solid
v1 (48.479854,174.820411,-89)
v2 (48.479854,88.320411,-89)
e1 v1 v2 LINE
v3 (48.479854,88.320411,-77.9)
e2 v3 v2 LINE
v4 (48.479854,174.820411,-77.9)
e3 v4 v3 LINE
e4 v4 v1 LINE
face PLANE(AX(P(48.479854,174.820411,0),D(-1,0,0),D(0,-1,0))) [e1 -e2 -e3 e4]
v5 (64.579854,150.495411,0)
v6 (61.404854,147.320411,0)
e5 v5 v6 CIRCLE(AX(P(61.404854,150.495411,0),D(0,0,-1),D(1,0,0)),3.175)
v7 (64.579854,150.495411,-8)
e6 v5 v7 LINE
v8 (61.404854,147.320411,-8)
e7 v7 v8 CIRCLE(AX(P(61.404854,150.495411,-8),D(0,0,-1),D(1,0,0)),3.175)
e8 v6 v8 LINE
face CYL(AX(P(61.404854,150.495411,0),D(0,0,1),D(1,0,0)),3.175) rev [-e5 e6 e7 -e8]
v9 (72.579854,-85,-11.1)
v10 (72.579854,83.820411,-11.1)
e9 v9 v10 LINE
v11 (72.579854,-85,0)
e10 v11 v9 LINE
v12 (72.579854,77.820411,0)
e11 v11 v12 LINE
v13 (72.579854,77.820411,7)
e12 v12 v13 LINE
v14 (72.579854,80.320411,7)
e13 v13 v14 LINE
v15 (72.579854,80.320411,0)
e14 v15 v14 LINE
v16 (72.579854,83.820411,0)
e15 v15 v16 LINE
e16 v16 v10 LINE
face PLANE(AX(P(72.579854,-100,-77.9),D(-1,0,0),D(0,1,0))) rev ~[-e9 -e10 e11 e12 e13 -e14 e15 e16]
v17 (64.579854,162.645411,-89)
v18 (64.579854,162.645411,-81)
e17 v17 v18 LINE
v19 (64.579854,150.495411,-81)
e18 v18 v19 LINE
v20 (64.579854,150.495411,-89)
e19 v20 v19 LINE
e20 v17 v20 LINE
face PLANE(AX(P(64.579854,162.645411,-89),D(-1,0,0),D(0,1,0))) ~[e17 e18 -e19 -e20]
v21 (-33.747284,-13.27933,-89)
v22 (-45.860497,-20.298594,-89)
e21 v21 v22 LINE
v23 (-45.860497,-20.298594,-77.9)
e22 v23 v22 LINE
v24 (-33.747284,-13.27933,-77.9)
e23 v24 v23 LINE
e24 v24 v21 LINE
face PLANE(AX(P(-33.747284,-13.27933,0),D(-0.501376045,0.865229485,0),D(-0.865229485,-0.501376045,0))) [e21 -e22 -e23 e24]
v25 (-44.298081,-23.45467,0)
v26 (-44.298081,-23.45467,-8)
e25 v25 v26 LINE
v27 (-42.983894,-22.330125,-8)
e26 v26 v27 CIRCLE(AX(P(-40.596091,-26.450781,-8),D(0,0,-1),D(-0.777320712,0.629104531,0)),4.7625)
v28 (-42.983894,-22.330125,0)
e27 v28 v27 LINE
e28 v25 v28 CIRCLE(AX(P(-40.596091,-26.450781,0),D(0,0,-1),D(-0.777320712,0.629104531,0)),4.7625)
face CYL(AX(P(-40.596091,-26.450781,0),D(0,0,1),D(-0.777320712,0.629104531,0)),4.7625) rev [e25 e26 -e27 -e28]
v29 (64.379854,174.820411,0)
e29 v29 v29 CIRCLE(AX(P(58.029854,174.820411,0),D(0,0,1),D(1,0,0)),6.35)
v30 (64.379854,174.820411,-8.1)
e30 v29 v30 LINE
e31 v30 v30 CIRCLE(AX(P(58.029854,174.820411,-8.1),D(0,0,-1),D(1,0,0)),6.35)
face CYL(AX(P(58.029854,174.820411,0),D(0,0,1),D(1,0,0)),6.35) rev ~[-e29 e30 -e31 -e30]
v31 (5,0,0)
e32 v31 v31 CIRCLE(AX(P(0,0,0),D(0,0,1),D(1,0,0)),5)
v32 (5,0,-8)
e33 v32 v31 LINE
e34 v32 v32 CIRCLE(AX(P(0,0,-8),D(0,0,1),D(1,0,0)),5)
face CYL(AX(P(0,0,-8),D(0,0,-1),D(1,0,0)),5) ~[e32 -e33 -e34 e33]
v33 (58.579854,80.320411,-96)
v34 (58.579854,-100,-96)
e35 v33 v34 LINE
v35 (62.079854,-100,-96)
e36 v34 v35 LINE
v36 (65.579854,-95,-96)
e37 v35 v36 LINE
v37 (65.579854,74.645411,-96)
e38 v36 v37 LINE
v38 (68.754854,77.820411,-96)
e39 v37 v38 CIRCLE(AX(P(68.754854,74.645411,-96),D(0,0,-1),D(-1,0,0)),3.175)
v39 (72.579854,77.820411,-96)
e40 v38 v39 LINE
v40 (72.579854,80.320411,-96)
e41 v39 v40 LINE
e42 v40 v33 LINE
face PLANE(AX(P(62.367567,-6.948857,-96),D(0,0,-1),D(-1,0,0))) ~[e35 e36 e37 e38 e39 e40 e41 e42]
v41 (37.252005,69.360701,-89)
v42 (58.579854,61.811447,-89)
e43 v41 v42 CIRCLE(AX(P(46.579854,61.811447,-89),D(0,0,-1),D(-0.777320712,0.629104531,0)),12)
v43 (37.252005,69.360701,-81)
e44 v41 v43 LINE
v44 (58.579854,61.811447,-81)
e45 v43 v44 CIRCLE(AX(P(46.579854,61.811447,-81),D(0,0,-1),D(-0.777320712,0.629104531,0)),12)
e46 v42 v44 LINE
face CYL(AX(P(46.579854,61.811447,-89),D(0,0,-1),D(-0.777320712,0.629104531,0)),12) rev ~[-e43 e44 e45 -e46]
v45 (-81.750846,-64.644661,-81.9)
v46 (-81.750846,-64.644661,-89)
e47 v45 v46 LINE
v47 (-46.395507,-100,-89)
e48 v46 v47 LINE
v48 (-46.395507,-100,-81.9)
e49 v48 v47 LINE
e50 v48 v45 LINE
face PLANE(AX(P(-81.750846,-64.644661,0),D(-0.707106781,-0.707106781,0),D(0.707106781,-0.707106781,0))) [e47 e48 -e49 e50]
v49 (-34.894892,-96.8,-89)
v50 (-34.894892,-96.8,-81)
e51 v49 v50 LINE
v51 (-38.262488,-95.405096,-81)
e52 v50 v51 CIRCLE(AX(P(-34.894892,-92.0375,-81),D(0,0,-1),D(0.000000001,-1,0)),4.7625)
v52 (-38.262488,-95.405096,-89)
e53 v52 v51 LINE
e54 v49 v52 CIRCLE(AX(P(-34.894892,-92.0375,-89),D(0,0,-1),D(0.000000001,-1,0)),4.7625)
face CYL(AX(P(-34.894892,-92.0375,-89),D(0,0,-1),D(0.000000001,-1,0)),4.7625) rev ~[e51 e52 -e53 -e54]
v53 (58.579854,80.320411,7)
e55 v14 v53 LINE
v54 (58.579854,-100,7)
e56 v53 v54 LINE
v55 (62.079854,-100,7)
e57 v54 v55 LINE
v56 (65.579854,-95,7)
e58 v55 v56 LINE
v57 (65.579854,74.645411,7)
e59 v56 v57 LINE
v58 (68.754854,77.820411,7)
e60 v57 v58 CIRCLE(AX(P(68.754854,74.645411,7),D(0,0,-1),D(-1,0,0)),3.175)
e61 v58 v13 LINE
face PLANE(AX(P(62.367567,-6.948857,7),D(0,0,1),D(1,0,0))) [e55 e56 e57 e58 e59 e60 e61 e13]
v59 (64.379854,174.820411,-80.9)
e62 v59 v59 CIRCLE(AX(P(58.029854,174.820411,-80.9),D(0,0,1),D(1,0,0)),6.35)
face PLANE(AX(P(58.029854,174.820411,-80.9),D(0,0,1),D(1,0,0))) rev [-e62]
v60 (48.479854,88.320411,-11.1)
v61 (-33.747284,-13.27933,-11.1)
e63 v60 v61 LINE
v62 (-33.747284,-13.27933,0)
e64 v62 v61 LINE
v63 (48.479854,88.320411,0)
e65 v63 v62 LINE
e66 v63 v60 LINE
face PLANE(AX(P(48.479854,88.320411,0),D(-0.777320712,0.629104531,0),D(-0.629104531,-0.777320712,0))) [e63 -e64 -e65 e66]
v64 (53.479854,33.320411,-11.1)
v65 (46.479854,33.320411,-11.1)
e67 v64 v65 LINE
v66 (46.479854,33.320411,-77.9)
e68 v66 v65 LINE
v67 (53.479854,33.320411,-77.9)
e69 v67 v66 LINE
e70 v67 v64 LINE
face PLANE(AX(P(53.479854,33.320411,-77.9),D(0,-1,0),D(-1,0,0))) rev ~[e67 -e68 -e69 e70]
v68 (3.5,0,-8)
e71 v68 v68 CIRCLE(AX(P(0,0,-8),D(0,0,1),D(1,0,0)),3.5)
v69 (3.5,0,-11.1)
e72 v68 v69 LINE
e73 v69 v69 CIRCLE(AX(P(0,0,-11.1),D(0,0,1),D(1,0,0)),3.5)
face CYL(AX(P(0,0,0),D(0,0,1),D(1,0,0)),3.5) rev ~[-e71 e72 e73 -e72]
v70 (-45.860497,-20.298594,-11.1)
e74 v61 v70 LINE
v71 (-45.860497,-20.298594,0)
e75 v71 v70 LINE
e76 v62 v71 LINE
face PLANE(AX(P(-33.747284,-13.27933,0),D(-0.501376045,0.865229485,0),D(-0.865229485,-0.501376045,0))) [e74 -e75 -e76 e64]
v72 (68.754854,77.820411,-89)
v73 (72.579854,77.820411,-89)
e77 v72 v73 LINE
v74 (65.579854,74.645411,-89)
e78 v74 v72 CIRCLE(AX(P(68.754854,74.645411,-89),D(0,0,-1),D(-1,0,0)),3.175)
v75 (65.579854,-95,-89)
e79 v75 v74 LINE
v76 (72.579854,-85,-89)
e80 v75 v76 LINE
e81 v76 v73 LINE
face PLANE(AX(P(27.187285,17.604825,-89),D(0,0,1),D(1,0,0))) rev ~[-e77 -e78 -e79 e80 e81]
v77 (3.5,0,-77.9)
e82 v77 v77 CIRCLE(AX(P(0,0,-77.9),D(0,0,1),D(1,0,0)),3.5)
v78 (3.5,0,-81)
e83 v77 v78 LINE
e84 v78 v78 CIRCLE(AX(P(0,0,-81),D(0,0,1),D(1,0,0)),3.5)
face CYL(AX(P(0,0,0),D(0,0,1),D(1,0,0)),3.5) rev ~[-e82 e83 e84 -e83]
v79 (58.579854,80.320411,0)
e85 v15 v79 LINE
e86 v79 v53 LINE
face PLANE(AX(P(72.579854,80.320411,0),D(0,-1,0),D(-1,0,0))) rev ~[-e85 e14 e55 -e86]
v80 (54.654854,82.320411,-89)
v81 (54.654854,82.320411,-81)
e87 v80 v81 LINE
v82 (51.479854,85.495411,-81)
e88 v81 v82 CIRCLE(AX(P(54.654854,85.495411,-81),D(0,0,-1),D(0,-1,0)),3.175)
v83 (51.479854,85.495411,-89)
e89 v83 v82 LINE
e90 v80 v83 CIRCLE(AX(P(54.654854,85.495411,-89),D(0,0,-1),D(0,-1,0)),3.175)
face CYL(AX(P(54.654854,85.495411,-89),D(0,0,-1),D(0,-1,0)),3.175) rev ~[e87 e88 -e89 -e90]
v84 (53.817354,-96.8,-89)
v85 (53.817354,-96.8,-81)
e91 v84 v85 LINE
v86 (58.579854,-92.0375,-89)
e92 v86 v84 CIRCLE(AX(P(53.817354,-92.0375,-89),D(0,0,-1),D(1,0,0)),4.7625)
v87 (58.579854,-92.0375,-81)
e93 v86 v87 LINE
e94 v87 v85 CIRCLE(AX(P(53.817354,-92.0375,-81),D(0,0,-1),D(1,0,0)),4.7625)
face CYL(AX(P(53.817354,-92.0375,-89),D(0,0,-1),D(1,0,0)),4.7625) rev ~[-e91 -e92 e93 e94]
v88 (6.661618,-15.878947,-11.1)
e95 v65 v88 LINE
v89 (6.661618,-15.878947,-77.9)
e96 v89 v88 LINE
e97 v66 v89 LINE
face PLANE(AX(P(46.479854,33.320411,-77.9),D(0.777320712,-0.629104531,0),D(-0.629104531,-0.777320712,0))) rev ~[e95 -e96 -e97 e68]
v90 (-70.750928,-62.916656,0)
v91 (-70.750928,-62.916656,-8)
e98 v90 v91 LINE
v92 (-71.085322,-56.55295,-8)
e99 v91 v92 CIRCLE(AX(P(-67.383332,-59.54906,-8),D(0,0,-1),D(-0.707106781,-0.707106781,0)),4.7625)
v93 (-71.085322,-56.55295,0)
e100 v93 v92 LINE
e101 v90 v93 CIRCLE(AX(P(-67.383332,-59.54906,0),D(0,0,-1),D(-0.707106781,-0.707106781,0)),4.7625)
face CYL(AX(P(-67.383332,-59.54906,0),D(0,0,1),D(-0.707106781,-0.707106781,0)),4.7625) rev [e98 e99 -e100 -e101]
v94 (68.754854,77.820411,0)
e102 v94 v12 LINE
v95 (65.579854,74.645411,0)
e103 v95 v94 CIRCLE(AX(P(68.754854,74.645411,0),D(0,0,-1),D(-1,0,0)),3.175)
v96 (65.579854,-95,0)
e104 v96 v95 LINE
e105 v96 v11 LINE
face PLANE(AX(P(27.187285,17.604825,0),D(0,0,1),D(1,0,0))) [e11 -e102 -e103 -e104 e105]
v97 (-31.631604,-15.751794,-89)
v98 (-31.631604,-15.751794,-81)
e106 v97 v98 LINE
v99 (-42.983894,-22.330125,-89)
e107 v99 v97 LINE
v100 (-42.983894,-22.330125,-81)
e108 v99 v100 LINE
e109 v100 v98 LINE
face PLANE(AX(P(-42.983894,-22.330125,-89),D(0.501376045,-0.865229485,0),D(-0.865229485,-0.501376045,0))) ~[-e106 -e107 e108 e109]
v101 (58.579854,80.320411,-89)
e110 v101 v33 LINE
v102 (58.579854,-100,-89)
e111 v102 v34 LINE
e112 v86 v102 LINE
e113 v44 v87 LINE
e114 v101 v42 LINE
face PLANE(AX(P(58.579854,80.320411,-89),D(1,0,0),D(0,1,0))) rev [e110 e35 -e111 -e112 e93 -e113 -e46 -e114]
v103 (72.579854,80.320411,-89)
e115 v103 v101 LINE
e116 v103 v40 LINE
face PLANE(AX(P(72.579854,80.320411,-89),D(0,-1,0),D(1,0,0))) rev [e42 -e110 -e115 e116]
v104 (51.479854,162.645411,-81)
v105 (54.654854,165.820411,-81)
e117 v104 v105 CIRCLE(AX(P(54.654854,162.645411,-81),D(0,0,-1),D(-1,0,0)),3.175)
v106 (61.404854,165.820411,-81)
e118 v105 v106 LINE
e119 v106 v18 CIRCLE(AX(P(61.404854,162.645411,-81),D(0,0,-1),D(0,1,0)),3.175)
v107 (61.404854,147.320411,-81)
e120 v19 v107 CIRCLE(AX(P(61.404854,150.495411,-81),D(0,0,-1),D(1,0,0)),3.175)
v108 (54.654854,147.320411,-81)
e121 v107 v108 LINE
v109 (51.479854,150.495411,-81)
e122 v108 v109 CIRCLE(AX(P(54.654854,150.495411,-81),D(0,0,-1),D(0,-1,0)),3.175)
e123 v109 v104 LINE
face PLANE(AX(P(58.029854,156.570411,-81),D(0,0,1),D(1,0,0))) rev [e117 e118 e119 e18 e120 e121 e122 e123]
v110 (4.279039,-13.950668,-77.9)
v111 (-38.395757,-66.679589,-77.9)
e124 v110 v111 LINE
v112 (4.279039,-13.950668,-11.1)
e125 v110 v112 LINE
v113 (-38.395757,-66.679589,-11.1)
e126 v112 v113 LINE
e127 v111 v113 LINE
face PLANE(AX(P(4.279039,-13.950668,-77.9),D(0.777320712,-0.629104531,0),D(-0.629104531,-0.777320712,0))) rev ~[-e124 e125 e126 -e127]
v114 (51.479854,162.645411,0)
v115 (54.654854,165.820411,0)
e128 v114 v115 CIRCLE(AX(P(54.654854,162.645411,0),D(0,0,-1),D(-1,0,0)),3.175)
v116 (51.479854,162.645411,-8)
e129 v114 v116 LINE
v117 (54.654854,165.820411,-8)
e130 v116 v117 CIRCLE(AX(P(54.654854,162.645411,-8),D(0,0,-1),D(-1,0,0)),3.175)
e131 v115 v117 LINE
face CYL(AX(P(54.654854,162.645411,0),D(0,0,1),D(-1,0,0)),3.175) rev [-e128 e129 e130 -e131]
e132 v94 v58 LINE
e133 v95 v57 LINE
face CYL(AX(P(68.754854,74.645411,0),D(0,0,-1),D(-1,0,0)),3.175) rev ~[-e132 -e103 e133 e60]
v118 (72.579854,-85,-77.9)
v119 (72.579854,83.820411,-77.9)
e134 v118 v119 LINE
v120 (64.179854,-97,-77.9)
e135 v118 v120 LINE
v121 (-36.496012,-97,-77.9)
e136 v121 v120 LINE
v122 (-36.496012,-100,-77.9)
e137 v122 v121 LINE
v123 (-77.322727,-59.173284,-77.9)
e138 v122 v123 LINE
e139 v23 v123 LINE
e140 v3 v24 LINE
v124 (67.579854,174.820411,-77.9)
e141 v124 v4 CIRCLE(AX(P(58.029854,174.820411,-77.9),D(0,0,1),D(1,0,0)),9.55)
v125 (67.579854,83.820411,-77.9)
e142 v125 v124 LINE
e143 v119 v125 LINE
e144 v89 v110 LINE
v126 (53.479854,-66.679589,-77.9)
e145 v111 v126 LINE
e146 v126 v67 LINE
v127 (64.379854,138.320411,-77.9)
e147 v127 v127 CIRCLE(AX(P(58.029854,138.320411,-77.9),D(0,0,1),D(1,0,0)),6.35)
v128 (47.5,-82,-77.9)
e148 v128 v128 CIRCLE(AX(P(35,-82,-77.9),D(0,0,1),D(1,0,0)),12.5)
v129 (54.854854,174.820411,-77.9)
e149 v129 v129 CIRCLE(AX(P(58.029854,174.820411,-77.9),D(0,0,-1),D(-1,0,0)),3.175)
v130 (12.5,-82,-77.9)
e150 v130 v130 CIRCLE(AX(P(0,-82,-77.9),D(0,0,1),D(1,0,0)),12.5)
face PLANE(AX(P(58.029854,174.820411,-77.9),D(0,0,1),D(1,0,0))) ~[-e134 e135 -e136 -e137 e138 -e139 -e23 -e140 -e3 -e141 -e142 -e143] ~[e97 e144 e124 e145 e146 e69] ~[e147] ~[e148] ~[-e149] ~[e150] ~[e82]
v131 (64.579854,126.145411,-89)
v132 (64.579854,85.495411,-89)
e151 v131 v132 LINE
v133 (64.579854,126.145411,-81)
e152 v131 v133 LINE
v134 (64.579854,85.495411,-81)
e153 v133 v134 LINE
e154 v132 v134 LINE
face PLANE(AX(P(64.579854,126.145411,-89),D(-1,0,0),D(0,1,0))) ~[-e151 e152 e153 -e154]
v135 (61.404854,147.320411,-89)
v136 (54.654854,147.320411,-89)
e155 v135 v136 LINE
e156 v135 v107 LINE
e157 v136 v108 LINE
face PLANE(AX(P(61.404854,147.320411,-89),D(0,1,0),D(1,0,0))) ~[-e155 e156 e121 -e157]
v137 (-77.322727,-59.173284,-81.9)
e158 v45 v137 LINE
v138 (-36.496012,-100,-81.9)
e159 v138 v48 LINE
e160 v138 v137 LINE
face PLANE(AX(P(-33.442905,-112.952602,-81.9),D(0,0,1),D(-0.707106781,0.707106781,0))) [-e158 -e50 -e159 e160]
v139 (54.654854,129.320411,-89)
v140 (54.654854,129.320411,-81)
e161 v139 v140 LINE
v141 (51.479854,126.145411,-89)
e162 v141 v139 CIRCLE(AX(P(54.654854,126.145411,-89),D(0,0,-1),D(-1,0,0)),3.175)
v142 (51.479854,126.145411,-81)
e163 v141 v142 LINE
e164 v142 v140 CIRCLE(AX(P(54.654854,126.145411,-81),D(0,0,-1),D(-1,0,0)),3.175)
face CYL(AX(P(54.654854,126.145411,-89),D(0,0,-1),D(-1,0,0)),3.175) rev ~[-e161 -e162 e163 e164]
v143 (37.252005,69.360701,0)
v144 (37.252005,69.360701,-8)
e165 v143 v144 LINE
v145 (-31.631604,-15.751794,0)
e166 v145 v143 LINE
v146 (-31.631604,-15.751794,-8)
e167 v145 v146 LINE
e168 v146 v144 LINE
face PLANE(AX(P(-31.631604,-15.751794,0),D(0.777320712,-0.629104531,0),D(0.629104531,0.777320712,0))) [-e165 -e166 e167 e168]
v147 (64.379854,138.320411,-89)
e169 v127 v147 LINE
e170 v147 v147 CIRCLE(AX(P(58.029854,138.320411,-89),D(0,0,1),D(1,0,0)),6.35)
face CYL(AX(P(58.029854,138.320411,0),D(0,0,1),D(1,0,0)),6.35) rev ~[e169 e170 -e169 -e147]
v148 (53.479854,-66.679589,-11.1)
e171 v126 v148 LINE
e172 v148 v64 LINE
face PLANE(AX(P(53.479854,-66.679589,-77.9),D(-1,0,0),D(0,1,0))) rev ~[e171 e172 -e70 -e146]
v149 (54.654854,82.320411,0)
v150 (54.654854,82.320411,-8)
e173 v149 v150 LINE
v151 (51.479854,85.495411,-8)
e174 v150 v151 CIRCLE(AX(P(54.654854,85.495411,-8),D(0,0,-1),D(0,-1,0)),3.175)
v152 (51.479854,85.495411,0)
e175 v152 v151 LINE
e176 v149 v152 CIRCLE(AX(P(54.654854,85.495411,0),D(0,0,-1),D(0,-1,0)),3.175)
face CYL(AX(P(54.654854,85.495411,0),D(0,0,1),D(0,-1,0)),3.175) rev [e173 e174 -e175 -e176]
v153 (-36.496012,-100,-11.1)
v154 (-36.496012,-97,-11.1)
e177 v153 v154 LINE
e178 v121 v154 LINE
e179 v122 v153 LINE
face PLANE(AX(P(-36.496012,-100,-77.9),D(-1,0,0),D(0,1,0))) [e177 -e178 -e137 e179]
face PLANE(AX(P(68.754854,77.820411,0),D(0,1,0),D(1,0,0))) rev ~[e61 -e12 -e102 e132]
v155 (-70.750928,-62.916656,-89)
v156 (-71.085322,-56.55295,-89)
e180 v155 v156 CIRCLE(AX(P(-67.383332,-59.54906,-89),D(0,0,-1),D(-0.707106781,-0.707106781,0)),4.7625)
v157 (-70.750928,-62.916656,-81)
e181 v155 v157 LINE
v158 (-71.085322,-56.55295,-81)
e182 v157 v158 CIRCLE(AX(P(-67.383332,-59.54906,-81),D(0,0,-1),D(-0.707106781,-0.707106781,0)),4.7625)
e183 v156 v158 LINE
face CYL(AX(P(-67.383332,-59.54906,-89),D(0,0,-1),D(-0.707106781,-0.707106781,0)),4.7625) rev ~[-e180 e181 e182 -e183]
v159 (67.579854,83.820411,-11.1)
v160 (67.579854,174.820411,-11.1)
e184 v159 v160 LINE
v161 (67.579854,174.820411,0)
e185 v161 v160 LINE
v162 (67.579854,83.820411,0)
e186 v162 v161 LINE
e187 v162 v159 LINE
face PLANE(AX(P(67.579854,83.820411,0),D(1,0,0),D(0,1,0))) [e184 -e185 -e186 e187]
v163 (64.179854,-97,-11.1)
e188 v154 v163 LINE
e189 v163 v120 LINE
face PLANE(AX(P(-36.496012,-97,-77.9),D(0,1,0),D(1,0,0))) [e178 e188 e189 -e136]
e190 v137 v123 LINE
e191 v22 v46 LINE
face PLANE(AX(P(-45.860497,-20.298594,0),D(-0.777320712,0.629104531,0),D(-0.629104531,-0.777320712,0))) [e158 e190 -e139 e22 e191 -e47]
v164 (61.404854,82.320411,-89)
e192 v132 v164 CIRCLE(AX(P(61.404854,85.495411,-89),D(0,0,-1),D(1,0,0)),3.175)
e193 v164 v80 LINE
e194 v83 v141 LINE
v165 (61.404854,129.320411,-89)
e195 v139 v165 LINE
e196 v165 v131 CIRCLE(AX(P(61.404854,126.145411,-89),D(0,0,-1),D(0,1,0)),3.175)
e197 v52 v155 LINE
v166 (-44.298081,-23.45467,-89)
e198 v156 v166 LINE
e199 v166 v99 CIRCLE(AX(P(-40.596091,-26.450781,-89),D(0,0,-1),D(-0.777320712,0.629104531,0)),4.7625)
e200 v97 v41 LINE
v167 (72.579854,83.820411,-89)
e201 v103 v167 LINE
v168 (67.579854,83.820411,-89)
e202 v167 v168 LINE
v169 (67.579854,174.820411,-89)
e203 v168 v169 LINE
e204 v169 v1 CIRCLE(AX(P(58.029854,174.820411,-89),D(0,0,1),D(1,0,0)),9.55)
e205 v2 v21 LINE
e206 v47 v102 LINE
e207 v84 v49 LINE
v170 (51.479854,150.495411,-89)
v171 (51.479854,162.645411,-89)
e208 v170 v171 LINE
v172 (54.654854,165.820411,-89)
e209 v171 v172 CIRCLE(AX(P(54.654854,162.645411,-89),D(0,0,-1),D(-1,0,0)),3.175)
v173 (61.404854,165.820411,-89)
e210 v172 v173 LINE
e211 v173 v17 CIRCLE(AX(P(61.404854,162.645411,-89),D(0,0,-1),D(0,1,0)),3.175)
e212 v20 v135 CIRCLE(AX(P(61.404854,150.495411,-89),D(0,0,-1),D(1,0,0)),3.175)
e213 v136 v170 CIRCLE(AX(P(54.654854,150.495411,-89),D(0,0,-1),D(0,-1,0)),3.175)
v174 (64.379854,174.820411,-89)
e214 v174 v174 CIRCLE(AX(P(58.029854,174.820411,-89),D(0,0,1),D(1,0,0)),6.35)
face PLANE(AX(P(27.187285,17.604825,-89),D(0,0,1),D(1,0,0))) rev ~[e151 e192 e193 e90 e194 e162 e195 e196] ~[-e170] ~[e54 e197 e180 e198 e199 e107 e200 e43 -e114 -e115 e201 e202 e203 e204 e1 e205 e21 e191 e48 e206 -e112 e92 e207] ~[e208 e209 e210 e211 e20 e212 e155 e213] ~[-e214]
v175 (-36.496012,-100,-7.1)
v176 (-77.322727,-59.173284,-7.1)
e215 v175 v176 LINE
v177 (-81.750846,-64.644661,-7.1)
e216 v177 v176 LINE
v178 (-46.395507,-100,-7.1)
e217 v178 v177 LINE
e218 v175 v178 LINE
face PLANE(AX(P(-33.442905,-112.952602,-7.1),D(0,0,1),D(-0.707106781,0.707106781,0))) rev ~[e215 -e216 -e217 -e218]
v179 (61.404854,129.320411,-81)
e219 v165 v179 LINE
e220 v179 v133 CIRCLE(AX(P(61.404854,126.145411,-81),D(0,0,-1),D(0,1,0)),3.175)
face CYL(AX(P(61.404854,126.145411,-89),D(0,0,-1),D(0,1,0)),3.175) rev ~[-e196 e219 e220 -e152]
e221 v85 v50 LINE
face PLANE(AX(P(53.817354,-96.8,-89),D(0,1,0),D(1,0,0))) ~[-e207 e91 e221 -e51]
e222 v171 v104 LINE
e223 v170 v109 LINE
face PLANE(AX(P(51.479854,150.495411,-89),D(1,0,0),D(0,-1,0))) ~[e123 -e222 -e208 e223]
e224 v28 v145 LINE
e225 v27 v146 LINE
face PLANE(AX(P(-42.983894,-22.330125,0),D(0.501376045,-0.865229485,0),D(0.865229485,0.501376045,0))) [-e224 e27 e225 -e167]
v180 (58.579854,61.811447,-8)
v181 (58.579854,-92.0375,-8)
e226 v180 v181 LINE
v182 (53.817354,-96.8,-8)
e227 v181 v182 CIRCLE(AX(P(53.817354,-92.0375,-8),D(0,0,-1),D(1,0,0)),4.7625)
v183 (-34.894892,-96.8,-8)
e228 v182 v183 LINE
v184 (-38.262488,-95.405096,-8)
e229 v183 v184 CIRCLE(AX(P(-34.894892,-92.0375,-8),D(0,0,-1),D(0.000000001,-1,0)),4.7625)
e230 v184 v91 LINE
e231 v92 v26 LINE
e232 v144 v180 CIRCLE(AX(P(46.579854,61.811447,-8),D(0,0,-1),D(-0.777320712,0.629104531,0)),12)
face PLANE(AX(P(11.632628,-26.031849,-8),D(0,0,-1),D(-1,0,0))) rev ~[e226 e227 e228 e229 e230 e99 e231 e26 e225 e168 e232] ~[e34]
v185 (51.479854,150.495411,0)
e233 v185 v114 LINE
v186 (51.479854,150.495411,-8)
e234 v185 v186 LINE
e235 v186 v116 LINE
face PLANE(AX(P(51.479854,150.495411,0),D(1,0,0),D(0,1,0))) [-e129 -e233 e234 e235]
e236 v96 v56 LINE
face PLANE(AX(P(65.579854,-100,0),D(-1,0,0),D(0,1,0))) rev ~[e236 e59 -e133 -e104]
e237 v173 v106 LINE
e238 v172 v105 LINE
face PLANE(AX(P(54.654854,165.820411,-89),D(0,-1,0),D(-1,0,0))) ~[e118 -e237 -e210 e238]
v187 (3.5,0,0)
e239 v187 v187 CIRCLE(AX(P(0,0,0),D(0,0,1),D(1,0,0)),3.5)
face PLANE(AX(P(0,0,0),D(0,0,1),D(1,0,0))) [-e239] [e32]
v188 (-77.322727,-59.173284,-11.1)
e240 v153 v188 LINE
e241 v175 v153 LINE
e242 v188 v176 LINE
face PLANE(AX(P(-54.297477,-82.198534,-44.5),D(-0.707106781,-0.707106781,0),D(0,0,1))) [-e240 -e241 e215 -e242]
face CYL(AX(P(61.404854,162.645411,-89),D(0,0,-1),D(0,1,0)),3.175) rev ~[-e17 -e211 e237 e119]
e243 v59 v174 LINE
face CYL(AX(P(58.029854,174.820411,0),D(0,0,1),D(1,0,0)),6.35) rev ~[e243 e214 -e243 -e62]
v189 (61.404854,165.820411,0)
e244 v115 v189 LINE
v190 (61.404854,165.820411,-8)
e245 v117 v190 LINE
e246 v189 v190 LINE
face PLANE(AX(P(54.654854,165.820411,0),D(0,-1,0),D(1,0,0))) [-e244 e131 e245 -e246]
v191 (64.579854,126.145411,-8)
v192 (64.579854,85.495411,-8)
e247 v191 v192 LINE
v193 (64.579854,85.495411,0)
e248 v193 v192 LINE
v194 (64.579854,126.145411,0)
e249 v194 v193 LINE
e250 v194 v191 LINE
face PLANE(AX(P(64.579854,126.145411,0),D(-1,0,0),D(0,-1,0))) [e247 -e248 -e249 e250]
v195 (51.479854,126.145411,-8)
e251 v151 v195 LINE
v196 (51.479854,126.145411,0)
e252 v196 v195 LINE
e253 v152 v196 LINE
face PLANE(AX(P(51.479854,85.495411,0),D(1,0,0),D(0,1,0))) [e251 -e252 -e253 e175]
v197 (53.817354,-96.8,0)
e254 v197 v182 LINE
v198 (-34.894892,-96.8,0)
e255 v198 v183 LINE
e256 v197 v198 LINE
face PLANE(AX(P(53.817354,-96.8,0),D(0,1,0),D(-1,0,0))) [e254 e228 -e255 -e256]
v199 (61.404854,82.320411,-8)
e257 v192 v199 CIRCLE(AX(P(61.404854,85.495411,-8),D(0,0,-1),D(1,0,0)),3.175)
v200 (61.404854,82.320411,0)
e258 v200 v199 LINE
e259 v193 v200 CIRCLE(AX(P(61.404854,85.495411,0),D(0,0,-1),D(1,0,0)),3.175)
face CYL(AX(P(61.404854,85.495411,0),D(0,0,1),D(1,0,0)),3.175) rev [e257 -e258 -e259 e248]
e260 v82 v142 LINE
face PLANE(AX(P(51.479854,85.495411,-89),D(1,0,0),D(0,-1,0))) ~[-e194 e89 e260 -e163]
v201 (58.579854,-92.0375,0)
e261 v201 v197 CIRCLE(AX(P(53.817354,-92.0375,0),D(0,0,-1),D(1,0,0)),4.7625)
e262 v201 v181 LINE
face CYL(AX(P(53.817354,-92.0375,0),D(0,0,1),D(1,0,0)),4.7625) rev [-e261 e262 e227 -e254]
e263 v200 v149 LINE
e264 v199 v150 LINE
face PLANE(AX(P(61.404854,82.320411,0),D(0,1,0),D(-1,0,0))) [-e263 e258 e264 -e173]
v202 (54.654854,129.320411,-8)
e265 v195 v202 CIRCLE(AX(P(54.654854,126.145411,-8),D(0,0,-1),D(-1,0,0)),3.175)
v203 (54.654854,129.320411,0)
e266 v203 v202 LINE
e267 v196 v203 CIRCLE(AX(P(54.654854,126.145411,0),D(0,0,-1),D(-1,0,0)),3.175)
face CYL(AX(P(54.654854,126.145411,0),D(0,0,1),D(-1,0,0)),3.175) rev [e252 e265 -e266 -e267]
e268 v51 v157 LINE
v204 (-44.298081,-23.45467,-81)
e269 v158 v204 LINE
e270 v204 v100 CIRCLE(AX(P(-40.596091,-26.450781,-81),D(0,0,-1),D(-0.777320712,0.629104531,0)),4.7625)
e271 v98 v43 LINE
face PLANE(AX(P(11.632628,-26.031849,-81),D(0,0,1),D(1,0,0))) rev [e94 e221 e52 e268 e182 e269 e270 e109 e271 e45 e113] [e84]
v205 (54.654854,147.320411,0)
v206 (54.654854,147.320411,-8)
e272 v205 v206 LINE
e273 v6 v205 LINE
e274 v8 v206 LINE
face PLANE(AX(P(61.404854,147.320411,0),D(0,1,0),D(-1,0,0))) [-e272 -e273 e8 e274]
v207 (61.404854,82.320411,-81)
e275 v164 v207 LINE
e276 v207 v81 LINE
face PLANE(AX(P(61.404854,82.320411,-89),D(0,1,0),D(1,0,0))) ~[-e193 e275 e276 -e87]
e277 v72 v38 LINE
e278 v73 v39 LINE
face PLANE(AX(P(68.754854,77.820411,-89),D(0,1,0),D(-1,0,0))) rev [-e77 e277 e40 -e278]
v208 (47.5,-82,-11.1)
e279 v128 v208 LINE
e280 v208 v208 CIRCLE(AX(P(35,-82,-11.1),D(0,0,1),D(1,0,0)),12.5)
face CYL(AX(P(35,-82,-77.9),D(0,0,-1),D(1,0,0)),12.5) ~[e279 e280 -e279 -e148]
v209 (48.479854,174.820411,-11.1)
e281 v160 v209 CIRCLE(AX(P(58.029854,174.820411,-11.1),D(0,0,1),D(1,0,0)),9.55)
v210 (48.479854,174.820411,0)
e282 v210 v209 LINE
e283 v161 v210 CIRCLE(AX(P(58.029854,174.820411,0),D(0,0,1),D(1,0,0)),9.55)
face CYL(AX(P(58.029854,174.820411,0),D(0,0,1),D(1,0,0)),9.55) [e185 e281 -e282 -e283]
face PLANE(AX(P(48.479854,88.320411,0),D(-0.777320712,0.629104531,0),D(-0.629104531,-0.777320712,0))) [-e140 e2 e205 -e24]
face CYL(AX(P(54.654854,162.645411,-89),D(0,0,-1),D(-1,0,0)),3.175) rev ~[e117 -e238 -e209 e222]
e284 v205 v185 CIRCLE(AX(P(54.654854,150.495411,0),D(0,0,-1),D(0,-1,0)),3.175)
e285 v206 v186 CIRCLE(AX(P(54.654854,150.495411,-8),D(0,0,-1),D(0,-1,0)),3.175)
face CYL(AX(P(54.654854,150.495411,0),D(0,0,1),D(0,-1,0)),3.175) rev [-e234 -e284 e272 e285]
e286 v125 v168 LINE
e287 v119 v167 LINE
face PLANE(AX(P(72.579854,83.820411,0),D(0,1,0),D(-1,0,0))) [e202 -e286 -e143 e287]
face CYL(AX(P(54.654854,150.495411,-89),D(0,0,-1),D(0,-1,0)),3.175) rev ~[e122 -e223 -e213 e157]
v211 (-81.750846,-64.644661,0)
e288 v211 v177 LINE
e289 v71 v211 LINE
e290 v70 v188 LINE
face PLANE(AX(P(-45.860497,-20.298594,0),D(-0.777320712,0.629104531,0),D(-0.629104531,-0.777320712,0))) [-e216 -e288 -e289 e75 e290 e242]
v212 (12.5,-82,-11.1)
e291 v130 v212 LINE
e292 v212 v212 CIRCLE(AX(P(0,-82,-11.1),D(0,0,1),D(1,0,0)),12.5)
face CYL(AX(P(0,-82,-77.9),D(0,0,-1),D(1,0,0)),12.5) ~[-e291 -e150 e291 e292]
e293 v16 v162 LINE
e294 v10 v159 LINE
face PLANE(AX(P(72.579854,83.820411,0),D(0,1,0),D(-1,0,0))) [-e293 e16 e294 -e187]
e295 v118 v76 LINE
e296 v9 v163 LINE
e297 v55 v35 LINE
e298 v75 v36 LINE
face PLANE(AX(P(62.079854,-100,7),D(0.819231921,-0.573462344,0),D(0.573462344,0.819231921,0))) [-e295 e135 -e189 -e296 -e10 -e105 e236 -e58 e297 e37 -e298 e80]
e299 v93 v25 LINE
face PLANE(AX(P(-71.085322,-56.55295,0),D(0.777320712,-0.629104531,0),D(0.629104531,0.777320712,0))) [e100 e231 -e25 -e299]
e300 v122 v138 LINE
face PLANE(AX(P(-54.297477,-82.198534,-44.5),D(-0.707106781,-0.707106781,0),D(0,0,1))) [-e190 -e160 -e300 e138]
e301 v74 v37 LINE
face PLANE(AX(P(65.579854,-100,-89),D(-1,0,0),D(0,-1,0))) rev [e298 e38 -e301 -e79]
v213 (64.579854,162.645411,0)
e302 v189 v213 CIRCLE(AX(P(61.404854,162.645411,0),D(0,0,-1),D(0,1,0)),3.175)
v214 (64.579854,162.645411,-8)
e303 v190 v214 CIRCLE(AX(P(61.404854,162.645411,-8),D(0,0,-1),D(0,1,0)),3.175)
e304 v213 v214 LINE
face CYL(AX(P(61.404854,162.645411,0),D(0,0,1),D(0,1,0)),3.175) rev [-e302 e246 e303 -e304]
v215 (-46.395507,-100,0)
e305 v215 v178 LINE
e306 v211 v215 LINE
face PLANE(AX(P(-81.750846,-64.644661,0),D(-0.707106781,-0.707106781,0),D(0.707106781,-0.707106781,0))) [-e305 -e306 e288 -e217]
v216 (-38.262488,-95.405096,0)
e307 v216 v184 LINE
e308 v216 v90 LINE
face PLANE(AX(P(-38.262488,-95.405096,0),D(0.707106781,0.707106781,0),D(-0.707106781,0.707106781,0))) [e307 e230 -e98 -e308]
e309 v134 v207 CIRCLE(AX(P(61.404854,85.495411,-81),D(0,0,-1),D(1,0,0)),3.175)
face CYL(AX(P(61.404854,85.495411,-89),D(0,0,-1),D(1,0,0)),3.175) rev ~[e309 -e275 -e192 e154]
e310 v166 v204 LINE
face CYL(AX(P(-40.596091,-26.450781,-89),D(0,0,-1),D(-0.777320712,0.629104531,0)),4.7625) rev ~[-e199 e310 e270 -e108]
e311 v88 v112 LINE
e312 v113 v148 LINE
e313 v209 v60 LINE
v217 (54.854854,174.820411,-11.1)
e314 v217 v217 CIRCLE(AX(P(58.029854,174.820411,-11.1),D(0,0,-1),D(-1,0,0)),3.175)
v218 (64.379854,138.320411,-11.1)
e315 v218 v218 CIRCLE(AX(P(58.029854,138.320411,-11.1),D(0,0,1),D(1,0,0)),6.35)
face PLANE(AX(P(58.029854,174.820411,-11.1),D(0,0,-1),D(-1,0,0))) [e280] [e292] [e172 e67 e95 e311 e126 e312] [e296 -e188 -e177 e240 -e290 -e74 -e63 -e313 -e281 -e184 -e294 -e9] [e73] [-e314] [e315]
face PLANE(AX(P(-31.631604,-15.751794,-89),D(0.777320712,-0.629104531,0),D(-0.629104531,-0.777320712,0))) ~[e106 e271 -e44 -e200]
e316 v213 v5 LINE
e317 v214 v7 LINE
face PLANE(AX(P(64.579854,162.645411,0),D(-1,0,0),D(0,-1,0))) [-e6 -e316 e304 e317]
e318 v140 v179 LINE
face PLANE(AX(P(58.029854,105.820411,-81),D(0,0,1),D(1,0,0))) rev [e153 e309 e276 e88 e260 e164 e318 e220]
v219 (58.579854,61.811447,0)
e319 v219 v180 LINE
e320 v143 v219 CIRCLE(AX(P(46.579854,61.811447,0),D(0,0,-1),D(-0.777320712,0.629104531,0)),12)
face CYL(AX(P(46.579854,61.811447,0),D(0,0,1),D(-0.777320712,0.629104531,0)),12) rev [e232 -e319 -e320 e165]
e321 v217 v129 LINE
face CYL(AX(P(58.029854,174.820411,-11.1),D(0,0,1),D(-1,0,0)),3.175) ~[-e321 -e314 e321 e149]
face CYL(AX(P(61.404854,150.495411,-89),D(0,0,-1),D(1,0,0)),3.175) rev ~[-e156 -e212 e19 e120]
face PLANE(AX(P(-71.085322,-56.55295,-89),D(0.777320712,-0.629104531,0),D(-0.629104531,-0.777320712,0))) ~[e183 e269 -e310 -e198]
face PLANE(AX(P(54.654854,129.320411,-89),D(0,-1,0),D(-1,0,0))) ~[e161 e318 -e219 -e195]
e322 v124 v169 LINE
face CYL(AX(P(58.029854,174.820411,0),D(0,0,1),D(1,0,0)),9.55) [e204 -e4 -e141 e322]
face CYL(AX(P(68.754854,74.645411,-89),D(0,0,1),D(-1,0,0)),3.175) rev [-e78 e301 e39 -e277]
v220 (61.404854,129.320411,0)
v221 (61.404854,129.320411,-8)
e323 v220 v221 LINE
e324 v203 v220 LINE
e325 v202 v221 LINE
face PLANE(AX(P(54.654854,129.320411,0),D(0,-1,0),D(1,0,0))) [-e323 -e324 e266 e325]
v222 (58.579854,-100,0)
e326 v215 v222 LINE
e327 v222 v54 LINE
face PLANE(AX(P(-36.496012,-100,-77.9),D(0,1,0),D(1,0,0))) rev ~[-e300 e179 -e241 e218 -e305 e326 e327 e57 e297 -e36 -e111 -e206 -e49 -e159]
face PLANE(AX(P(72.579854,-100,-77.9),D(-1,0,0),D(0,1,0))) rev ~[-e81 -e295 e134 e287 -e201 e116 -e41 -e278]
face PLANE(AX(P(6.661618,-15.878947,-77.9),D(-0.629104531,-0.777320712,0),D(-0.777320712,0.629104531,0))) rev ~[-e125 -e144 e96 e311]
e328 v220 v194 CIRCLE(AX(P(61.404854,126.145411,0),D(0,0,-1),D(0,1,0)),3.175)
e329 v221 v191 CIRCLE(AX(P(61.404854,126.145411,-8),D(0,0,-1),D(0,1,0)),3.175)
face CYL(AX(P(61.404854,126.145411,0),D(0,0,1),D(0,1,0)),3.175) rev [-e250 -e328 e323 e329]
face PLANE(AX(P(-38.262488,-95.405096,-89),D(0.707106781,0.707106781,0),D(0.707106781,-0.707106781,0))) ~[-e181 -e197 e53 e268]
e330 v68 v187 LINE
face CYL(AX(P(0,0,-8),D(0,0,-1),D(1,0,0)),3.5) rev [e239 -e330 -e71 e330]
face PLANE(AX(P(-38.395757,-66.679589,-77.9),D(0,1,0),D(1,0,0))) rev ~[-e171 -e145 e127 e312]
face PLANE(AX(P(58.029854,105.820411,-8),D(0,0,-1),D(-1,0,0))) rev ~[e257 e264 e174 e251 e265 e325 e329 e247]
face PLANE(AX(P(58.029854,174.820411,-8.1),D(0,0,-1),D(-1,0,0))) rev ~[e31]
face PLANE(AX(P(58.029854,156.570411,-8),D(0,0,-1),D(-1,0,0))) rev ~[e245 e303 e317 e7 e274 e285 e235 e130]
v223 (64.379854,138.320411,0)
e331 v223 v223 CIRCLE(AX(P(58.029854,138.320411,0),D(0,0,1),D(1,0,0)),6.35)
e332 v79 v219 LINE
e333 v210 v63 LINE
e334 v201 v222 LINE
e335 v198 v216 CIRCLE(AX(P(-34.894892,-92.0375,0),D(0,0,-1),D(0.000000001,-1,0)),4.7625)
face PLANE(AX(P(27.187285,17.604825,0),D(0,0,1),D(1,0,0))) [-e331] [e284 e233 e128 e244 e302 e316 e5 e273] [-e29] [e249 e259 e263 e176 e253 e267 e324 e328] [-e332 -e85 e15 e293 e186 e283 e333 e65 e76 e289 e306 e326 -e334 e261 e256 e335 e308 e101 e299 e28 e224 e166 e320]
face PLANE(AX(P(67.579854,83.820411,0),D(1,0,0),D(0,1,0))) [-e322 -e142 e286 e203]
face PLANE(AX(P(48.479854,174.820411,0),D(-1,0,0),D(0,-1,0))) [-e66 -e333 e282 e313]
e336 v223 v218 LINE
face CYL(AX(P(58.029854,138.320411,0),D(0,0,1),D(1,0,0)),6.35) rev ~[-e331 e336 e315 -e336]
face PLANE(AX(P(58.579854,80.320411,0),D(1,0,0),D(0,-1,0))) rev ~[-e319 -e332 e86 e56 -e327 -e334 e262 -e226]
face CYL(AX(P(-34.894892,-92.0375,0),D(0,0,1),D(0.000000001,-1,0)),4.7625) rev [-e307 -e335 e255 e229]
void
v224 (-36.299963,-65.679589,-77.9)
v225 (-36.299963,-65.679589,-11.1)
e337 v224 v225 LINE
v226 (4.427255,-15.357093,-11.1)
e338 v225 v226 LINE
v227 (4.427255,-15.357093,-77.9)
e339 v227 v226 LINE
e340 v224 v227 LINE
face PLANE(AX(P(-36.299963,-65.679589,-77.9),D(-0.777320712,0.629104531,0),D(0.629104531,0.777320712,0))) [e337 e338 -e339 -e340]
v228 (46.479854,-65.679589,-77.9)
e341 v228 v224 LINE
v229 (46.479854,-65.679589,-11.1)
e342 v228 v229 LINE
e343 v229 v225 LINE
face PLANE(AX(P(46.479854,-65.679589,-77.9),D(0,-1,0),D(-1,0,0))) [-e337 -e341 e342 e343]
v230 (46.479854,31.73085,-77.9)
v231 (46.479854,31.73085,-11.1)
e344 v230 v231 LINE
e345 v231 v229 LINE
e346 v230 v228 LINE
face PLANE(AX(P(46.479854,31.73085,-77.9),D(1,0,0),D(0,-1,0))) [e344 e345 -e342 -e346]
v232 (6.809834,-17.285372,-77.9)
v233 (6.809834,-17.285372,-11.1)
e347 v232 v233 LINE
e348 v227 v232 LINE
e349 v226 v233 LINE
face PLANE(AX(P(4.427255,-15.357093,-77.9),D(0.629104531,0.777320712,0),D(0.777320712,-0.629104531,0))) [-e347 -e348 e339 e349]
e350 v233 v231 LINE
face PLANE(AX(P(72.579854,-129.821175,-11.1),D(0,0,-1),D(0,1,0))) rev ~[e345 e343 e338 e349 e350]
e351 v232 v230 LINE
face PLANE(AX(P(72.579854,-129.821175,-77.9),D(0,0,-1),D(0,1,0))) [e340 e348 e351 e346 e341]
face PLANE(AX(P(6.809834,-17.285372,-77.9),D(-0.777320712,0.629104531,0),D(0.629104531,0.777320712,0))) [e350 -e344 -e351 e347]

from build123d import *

# Parameters (mm, degrees)
SKETCH1_R           = 3.5
SKETCH1_R_2         = 6.35
BOSS_EXTRUDE1_DEPTH = 89
SKETCH3_R           = 3.5
CUT_EXTRUDE2_DEPTH  = 8
SKETCH4_R           = 5
SKETCH4_R_2         = 3.5
BOSS_EXTRUDE2_DEPTH = 8
BOSS_EXTRUDE3_DEPTH = 7
SKETCH2_W           = 66.8
SKETCH2_H           = 348.711986474
CUT_EXTRUDE1_DEPTH  = 200
SKETCH8_W           = 74.8
SKETCH8_H           = 72.985639166
CUT_EXTRUDE3_DEPTH  = 7
SKETCH7_R           = 12.5
SKETCH7_W           = 109.075865198
SKETCH7_H           = 3
BOSS_EXTRUDE5_DEPTH = 66.8
SKETCH9_R           = 6.35
BOSS_EXTRUDE6_DEPTH = 3
SKETCH10_R          = 3.175
BOSS_EXTRUDE7_DEPTH = 66.8
CUT_EXTRUDE4_DEPTH  = 103


with BuildPart() as part:
    # Sketch1 → Boss-Extrude1 (new body)
    with BuildSketch(Plane.XY):
        with BuildLine():
            Line((48.479853629, 174.820410959), (48.479853629, 88.320410959))
            Line((48.479853629, 88.320410959), (-33.747283956, -13.279329595))
            Line((-33.747283956, -13.279329595), (-45.860496742, -20.29859423))
            Line((-45.860496742, -20.29859423), (-81.750845565, -64.644660941))
            Line((-81.750845565, -64.644660941), (-46.395506505, -100))
            Line((-46.395506505, -100), (72.579853629, -100))
            Line((72.579853629, -100), (72.579853629, 83.820410959))
            Line((72.579853629, 83.820410959), (67.579853629, 83.820410959))
            Line((67.579853629, 83.820410959), (67.579853629, 174.820410959))
            ThreePointArc((67.579853629, 174.820410959), (58.029853629, 184.370410959), (48.479853629, 174.820410959))
        make_face()
        Circle(SKETCH1_R, mode=Mode.SUBTRACT)
        with Locations((58.029853629, 138.320410959)):
            Circle(SKETCH1_R_2, mode=Mode.SUBTRACT)
        with Locations((58.029853629, 174.820410959)):
            Circle(SKETCH1_R_2, mode=Mode.SUBTRACT)
    extrude(amount=-BOSS_EXTRUDE1_DEPTH)

    # Sketch3 → Cut-Extrude2 (cut)
    with BuildSketch(Plane.XY):
        with BuildLine():
            ThreePointArc((-70.750928369, -62.916656075), (-72.139270825, -59.798970454), (-71.085322214, -56.552949701))
            Line((-71.085322214, -56.552949701), (-44.298080789, -23.454670242))
            ThreePointArc((-44.298080789, -23.454670242), (-43.692467175, -22.832236636), (-42.983894314, -22.330125149))
            Line((-42.983894314, -22.330125149), (-31.631604371, -15.751793807))
            Line((-31.631604371, -15.751793807), (37.252005086, 69.360701347))
            ThreePointArc((37.252005086, 69.360701347), (50.583965109, 73.123701006), (58.579853629, 61.811446975))
            Line((58.579853629, 61.811446975), (58.579853629, -92.0375))
            ThreePointArc((58.579853629, -92.0375), (57.184949674, -95.405096045), (53.817353629, -96.8))
            Line((53.817353629, -96.8), (-34.894892353, -96.8))
            ThreePointArc((-34.894892353, -96.8), (-36.7174222, -96.437476274), (-38.262488399, -95.405096045))
            Line((-38.262488399, -95.405096045), (-70.750928369, -62.916656075))
        make_face()
        Circle(SKETCH3_R, mode=Mode.SUBTRACT)
        with BuildLine():
            ThreePointArc((51.479853629, 126.145410959), (52.409789598, 128.390474989), (54.654853629, 129.320410959))
            Line((54.654853629, 129.320410959), (61.404853629, 129.320410959))
            ThreePointArc((61.404853629, 129.320410959), (63.649917659, 128.390474989), (64.579853629, 126.145410959))
            Line((64.579853629, 126.145410959), (64.579853629, 85.495410959))
            ThreePointArc((64.579853629, 85.495410959), (63.649917659, 83.250346929), (61.404853629, 82.320410959))
            Line((61.404853629, 82.320410959), (54.654853629, 82.320410959))
            ThreePointArc((54.654853629, 82.320410959), (52.409789598, 83.250346929), (51.479853629, 85.495410959))
            Line((51.479853629, 85.495410959), (51.479853629, 126.145410959))
        make_face()
        with BuildLine():
            ThreePointArc((51.479853629, 162.645410959), (52.409789598, 164.890474989), (54.654853629, 165.820410959))
            Line((54.654853629, 165.820410959), (61.404853629, 165.820410959))
            ThreePointArc((61.404853629, 165.820410959), (63.649917659, 164.890474989), (64.579853629, 162.645410959))
            Line((64.579853629, 162.645410959), (64.579853629, 150.495410959))
            ThreePointArc((64.579853629, 150.495410959), (63.649917659, 148.250346929), (61.404853629, 147.320410959))
            Line((61.404853629, 147.320410959), (54.654853629, 147.320410959))
            ThreePointArc((54.654853629, 147.320410959), (52.409789598, 148.250346929), (51.479853629, 150.495410959))
            Line((51.479853629, 150.495410959), (51.479853629, 162.645410959))
        make_face()
    cut_extrude2 = extrude(amount=-CUT_EXTRUDE2_DEPTH, mode=Mode.SUBTRACT)

    # Sketch4 → Boss-Extrude2 (add)
    with BuildSketch(Plane.XY.offset(-8)):
        Circle(SKETCH4_R)
        Circle(SKETCH4_R_2, mode=Mode.SUBTRACT)
    extrude(amount=BOSS_EXTRUDE2_DEPTH)

    # Sketch5 → Boss-Extrude3 (add)
    with BuildSketch(Plane.XY):
        with BuildLine():
            Line((58.579853629, 61.811446975), (58.579853629, -92.0375))
            Line((58.579853629, -92.0375), (58.579853629, -100))
            Line((58.579853629, -100), (65.579853629, -100))
            Line((65.579853629, -100), (65.579853629, 74.645410959))
            ThreePointArc((65.579853629, 74.645410959), (66.509789598, 76.890474989), (68.754853629, 77.820410959))
            Line((68.754853629, 77.820410959), (72.579853629, 77.820410959))
            Line((72.579853629, 77.820410959), (72.579853629, 80.320410959))
            Line((72.579853629, 80.320410959), (58.579853629, 80.320410959))
            Line((58.579853629, 80.320410959), (58.579853629, 61.811446975))
        make_face()
    boss_extrude3 = extrude(amount=BOSS_EXTRUDE3_DEPTH)

    # Mirror2: Cut-Extrude2, Boss-Extrude3 across plane
    add(cut_extrude2.mirror(Plane.XY.offset(-44.5)), mode=Mode.SUBTRACT)
    add(boss_extrude3.mirror(Plane.XY.offset(-44.5)))

    # Sketch2 → Cut-Extrude1 (cut)
    with BuildSketch(Plane(origin=(72.579853629, 0, 0), x_dir=(0, 0, -1), z_dir=(1, 0, 0))):
        with Locations((44.5, 44.534818405)):
            Rectangle(SKETCH2_W, SKETCH2_H)
    extrude(amount=-CUT_EXTRUDE1_DEPTH, mode=Mode.SUBTRACT)

    # Sketch8 → Cut-Extrude3 (cut)
    with BuildSketch(Plane(origin=(-73.197753253, -73.197753253, 0), x_dir=(0, 0, 1), z_dir=(-0.707106781, -0.707106781, 0))):
        with Locations((-44.5, -19.729026559)):
            Rectangle(SKETCH8_W, SKETCH8_H)
    extrude(amount=-CUT_EXTRUDE3_DEPTH, mode=Mode.SUBTRACT)

    # Sketch7 → Boss-Extrude5 (add)
    with BuildSketch(Plane.XY.offset(-77.9)):
        Polygon((46.479853629, 31.730850002), (46.479853629, 33.320410959), (6.661618145, -15.878947224), (4.279039025, -13.950668076), (-38.39575734, -66.679589041), (18.545061094, -66.679589041), (46.479853629, -66.679589041), (46.479853629, -65.679589041), (6.815381875, -65.679589041), (-36.299962765, -65.679589041), (4.427255206, -15.357093319), (6.809834326, -17.285372467), align=None)
        Polygon((53.479853629, -66.679589041), (53.479853629, 33.320410959), (46.479853629, 33.320410959), (46.479853629, 31.730850002), (46.479853629, -65.679589041), (46.479853629, -66.679589041), align=None)
        with Locations((35, -82)):
            Circle(SKETCH7_R)
        with Locations((0, -82)):
            Circle(SKETCH7_R)
        with Locations((18.04192103, -98.5)):
            Rectangle(SKETCH7_W, SKETCH7_H)
    extrude(amount=BOSS_EXTRUDE5_DEPTH)

    # Sketch9 → Boss-Extrude6 (add)
    with BuildSketch(Plane(origin=(0, 0, -11.1), x_dir=(-1, 0, 0), z_dir=(0, 0, -1))):
        with Locations((-58.029853629, 174.820410959)):
            Circle(SKETCH9_R)
    boss_extrude6 = extrude(amount=-BOSS_EXTRUDE6_DEPTH)

    # Mirror3: Boss-Extrude6 across plane
    add(boss_extrude6.mirror(Plane.XY.offset(-44.5)))

    # Sketch10 → Boss-Extrude7 (add)
    with BuildSketch(Plane(origin=(0, 0, -11.1), x_dir=(-1, 0, 0), z_dir=(0, 0, -1))):
        with Locations((-58.029853629, 174.820410959)):
            Circle(SKETCH10_R)
    extrude(amount=BOSS_EXTRUDE7_DEPTH)

    # Sketch11 → Cut-Extrude4 (cut)
    with BuildSketch(Plane.XY.offset(7)):
        Polygon((62.079853629, -100), (72.579853629, -85), (72.579853629, -100), align=None)
    extrude(amount=-CUT_EXTRUDE4_DEPTH, mode=Mode.SUBTRACT)


solid = part.part
